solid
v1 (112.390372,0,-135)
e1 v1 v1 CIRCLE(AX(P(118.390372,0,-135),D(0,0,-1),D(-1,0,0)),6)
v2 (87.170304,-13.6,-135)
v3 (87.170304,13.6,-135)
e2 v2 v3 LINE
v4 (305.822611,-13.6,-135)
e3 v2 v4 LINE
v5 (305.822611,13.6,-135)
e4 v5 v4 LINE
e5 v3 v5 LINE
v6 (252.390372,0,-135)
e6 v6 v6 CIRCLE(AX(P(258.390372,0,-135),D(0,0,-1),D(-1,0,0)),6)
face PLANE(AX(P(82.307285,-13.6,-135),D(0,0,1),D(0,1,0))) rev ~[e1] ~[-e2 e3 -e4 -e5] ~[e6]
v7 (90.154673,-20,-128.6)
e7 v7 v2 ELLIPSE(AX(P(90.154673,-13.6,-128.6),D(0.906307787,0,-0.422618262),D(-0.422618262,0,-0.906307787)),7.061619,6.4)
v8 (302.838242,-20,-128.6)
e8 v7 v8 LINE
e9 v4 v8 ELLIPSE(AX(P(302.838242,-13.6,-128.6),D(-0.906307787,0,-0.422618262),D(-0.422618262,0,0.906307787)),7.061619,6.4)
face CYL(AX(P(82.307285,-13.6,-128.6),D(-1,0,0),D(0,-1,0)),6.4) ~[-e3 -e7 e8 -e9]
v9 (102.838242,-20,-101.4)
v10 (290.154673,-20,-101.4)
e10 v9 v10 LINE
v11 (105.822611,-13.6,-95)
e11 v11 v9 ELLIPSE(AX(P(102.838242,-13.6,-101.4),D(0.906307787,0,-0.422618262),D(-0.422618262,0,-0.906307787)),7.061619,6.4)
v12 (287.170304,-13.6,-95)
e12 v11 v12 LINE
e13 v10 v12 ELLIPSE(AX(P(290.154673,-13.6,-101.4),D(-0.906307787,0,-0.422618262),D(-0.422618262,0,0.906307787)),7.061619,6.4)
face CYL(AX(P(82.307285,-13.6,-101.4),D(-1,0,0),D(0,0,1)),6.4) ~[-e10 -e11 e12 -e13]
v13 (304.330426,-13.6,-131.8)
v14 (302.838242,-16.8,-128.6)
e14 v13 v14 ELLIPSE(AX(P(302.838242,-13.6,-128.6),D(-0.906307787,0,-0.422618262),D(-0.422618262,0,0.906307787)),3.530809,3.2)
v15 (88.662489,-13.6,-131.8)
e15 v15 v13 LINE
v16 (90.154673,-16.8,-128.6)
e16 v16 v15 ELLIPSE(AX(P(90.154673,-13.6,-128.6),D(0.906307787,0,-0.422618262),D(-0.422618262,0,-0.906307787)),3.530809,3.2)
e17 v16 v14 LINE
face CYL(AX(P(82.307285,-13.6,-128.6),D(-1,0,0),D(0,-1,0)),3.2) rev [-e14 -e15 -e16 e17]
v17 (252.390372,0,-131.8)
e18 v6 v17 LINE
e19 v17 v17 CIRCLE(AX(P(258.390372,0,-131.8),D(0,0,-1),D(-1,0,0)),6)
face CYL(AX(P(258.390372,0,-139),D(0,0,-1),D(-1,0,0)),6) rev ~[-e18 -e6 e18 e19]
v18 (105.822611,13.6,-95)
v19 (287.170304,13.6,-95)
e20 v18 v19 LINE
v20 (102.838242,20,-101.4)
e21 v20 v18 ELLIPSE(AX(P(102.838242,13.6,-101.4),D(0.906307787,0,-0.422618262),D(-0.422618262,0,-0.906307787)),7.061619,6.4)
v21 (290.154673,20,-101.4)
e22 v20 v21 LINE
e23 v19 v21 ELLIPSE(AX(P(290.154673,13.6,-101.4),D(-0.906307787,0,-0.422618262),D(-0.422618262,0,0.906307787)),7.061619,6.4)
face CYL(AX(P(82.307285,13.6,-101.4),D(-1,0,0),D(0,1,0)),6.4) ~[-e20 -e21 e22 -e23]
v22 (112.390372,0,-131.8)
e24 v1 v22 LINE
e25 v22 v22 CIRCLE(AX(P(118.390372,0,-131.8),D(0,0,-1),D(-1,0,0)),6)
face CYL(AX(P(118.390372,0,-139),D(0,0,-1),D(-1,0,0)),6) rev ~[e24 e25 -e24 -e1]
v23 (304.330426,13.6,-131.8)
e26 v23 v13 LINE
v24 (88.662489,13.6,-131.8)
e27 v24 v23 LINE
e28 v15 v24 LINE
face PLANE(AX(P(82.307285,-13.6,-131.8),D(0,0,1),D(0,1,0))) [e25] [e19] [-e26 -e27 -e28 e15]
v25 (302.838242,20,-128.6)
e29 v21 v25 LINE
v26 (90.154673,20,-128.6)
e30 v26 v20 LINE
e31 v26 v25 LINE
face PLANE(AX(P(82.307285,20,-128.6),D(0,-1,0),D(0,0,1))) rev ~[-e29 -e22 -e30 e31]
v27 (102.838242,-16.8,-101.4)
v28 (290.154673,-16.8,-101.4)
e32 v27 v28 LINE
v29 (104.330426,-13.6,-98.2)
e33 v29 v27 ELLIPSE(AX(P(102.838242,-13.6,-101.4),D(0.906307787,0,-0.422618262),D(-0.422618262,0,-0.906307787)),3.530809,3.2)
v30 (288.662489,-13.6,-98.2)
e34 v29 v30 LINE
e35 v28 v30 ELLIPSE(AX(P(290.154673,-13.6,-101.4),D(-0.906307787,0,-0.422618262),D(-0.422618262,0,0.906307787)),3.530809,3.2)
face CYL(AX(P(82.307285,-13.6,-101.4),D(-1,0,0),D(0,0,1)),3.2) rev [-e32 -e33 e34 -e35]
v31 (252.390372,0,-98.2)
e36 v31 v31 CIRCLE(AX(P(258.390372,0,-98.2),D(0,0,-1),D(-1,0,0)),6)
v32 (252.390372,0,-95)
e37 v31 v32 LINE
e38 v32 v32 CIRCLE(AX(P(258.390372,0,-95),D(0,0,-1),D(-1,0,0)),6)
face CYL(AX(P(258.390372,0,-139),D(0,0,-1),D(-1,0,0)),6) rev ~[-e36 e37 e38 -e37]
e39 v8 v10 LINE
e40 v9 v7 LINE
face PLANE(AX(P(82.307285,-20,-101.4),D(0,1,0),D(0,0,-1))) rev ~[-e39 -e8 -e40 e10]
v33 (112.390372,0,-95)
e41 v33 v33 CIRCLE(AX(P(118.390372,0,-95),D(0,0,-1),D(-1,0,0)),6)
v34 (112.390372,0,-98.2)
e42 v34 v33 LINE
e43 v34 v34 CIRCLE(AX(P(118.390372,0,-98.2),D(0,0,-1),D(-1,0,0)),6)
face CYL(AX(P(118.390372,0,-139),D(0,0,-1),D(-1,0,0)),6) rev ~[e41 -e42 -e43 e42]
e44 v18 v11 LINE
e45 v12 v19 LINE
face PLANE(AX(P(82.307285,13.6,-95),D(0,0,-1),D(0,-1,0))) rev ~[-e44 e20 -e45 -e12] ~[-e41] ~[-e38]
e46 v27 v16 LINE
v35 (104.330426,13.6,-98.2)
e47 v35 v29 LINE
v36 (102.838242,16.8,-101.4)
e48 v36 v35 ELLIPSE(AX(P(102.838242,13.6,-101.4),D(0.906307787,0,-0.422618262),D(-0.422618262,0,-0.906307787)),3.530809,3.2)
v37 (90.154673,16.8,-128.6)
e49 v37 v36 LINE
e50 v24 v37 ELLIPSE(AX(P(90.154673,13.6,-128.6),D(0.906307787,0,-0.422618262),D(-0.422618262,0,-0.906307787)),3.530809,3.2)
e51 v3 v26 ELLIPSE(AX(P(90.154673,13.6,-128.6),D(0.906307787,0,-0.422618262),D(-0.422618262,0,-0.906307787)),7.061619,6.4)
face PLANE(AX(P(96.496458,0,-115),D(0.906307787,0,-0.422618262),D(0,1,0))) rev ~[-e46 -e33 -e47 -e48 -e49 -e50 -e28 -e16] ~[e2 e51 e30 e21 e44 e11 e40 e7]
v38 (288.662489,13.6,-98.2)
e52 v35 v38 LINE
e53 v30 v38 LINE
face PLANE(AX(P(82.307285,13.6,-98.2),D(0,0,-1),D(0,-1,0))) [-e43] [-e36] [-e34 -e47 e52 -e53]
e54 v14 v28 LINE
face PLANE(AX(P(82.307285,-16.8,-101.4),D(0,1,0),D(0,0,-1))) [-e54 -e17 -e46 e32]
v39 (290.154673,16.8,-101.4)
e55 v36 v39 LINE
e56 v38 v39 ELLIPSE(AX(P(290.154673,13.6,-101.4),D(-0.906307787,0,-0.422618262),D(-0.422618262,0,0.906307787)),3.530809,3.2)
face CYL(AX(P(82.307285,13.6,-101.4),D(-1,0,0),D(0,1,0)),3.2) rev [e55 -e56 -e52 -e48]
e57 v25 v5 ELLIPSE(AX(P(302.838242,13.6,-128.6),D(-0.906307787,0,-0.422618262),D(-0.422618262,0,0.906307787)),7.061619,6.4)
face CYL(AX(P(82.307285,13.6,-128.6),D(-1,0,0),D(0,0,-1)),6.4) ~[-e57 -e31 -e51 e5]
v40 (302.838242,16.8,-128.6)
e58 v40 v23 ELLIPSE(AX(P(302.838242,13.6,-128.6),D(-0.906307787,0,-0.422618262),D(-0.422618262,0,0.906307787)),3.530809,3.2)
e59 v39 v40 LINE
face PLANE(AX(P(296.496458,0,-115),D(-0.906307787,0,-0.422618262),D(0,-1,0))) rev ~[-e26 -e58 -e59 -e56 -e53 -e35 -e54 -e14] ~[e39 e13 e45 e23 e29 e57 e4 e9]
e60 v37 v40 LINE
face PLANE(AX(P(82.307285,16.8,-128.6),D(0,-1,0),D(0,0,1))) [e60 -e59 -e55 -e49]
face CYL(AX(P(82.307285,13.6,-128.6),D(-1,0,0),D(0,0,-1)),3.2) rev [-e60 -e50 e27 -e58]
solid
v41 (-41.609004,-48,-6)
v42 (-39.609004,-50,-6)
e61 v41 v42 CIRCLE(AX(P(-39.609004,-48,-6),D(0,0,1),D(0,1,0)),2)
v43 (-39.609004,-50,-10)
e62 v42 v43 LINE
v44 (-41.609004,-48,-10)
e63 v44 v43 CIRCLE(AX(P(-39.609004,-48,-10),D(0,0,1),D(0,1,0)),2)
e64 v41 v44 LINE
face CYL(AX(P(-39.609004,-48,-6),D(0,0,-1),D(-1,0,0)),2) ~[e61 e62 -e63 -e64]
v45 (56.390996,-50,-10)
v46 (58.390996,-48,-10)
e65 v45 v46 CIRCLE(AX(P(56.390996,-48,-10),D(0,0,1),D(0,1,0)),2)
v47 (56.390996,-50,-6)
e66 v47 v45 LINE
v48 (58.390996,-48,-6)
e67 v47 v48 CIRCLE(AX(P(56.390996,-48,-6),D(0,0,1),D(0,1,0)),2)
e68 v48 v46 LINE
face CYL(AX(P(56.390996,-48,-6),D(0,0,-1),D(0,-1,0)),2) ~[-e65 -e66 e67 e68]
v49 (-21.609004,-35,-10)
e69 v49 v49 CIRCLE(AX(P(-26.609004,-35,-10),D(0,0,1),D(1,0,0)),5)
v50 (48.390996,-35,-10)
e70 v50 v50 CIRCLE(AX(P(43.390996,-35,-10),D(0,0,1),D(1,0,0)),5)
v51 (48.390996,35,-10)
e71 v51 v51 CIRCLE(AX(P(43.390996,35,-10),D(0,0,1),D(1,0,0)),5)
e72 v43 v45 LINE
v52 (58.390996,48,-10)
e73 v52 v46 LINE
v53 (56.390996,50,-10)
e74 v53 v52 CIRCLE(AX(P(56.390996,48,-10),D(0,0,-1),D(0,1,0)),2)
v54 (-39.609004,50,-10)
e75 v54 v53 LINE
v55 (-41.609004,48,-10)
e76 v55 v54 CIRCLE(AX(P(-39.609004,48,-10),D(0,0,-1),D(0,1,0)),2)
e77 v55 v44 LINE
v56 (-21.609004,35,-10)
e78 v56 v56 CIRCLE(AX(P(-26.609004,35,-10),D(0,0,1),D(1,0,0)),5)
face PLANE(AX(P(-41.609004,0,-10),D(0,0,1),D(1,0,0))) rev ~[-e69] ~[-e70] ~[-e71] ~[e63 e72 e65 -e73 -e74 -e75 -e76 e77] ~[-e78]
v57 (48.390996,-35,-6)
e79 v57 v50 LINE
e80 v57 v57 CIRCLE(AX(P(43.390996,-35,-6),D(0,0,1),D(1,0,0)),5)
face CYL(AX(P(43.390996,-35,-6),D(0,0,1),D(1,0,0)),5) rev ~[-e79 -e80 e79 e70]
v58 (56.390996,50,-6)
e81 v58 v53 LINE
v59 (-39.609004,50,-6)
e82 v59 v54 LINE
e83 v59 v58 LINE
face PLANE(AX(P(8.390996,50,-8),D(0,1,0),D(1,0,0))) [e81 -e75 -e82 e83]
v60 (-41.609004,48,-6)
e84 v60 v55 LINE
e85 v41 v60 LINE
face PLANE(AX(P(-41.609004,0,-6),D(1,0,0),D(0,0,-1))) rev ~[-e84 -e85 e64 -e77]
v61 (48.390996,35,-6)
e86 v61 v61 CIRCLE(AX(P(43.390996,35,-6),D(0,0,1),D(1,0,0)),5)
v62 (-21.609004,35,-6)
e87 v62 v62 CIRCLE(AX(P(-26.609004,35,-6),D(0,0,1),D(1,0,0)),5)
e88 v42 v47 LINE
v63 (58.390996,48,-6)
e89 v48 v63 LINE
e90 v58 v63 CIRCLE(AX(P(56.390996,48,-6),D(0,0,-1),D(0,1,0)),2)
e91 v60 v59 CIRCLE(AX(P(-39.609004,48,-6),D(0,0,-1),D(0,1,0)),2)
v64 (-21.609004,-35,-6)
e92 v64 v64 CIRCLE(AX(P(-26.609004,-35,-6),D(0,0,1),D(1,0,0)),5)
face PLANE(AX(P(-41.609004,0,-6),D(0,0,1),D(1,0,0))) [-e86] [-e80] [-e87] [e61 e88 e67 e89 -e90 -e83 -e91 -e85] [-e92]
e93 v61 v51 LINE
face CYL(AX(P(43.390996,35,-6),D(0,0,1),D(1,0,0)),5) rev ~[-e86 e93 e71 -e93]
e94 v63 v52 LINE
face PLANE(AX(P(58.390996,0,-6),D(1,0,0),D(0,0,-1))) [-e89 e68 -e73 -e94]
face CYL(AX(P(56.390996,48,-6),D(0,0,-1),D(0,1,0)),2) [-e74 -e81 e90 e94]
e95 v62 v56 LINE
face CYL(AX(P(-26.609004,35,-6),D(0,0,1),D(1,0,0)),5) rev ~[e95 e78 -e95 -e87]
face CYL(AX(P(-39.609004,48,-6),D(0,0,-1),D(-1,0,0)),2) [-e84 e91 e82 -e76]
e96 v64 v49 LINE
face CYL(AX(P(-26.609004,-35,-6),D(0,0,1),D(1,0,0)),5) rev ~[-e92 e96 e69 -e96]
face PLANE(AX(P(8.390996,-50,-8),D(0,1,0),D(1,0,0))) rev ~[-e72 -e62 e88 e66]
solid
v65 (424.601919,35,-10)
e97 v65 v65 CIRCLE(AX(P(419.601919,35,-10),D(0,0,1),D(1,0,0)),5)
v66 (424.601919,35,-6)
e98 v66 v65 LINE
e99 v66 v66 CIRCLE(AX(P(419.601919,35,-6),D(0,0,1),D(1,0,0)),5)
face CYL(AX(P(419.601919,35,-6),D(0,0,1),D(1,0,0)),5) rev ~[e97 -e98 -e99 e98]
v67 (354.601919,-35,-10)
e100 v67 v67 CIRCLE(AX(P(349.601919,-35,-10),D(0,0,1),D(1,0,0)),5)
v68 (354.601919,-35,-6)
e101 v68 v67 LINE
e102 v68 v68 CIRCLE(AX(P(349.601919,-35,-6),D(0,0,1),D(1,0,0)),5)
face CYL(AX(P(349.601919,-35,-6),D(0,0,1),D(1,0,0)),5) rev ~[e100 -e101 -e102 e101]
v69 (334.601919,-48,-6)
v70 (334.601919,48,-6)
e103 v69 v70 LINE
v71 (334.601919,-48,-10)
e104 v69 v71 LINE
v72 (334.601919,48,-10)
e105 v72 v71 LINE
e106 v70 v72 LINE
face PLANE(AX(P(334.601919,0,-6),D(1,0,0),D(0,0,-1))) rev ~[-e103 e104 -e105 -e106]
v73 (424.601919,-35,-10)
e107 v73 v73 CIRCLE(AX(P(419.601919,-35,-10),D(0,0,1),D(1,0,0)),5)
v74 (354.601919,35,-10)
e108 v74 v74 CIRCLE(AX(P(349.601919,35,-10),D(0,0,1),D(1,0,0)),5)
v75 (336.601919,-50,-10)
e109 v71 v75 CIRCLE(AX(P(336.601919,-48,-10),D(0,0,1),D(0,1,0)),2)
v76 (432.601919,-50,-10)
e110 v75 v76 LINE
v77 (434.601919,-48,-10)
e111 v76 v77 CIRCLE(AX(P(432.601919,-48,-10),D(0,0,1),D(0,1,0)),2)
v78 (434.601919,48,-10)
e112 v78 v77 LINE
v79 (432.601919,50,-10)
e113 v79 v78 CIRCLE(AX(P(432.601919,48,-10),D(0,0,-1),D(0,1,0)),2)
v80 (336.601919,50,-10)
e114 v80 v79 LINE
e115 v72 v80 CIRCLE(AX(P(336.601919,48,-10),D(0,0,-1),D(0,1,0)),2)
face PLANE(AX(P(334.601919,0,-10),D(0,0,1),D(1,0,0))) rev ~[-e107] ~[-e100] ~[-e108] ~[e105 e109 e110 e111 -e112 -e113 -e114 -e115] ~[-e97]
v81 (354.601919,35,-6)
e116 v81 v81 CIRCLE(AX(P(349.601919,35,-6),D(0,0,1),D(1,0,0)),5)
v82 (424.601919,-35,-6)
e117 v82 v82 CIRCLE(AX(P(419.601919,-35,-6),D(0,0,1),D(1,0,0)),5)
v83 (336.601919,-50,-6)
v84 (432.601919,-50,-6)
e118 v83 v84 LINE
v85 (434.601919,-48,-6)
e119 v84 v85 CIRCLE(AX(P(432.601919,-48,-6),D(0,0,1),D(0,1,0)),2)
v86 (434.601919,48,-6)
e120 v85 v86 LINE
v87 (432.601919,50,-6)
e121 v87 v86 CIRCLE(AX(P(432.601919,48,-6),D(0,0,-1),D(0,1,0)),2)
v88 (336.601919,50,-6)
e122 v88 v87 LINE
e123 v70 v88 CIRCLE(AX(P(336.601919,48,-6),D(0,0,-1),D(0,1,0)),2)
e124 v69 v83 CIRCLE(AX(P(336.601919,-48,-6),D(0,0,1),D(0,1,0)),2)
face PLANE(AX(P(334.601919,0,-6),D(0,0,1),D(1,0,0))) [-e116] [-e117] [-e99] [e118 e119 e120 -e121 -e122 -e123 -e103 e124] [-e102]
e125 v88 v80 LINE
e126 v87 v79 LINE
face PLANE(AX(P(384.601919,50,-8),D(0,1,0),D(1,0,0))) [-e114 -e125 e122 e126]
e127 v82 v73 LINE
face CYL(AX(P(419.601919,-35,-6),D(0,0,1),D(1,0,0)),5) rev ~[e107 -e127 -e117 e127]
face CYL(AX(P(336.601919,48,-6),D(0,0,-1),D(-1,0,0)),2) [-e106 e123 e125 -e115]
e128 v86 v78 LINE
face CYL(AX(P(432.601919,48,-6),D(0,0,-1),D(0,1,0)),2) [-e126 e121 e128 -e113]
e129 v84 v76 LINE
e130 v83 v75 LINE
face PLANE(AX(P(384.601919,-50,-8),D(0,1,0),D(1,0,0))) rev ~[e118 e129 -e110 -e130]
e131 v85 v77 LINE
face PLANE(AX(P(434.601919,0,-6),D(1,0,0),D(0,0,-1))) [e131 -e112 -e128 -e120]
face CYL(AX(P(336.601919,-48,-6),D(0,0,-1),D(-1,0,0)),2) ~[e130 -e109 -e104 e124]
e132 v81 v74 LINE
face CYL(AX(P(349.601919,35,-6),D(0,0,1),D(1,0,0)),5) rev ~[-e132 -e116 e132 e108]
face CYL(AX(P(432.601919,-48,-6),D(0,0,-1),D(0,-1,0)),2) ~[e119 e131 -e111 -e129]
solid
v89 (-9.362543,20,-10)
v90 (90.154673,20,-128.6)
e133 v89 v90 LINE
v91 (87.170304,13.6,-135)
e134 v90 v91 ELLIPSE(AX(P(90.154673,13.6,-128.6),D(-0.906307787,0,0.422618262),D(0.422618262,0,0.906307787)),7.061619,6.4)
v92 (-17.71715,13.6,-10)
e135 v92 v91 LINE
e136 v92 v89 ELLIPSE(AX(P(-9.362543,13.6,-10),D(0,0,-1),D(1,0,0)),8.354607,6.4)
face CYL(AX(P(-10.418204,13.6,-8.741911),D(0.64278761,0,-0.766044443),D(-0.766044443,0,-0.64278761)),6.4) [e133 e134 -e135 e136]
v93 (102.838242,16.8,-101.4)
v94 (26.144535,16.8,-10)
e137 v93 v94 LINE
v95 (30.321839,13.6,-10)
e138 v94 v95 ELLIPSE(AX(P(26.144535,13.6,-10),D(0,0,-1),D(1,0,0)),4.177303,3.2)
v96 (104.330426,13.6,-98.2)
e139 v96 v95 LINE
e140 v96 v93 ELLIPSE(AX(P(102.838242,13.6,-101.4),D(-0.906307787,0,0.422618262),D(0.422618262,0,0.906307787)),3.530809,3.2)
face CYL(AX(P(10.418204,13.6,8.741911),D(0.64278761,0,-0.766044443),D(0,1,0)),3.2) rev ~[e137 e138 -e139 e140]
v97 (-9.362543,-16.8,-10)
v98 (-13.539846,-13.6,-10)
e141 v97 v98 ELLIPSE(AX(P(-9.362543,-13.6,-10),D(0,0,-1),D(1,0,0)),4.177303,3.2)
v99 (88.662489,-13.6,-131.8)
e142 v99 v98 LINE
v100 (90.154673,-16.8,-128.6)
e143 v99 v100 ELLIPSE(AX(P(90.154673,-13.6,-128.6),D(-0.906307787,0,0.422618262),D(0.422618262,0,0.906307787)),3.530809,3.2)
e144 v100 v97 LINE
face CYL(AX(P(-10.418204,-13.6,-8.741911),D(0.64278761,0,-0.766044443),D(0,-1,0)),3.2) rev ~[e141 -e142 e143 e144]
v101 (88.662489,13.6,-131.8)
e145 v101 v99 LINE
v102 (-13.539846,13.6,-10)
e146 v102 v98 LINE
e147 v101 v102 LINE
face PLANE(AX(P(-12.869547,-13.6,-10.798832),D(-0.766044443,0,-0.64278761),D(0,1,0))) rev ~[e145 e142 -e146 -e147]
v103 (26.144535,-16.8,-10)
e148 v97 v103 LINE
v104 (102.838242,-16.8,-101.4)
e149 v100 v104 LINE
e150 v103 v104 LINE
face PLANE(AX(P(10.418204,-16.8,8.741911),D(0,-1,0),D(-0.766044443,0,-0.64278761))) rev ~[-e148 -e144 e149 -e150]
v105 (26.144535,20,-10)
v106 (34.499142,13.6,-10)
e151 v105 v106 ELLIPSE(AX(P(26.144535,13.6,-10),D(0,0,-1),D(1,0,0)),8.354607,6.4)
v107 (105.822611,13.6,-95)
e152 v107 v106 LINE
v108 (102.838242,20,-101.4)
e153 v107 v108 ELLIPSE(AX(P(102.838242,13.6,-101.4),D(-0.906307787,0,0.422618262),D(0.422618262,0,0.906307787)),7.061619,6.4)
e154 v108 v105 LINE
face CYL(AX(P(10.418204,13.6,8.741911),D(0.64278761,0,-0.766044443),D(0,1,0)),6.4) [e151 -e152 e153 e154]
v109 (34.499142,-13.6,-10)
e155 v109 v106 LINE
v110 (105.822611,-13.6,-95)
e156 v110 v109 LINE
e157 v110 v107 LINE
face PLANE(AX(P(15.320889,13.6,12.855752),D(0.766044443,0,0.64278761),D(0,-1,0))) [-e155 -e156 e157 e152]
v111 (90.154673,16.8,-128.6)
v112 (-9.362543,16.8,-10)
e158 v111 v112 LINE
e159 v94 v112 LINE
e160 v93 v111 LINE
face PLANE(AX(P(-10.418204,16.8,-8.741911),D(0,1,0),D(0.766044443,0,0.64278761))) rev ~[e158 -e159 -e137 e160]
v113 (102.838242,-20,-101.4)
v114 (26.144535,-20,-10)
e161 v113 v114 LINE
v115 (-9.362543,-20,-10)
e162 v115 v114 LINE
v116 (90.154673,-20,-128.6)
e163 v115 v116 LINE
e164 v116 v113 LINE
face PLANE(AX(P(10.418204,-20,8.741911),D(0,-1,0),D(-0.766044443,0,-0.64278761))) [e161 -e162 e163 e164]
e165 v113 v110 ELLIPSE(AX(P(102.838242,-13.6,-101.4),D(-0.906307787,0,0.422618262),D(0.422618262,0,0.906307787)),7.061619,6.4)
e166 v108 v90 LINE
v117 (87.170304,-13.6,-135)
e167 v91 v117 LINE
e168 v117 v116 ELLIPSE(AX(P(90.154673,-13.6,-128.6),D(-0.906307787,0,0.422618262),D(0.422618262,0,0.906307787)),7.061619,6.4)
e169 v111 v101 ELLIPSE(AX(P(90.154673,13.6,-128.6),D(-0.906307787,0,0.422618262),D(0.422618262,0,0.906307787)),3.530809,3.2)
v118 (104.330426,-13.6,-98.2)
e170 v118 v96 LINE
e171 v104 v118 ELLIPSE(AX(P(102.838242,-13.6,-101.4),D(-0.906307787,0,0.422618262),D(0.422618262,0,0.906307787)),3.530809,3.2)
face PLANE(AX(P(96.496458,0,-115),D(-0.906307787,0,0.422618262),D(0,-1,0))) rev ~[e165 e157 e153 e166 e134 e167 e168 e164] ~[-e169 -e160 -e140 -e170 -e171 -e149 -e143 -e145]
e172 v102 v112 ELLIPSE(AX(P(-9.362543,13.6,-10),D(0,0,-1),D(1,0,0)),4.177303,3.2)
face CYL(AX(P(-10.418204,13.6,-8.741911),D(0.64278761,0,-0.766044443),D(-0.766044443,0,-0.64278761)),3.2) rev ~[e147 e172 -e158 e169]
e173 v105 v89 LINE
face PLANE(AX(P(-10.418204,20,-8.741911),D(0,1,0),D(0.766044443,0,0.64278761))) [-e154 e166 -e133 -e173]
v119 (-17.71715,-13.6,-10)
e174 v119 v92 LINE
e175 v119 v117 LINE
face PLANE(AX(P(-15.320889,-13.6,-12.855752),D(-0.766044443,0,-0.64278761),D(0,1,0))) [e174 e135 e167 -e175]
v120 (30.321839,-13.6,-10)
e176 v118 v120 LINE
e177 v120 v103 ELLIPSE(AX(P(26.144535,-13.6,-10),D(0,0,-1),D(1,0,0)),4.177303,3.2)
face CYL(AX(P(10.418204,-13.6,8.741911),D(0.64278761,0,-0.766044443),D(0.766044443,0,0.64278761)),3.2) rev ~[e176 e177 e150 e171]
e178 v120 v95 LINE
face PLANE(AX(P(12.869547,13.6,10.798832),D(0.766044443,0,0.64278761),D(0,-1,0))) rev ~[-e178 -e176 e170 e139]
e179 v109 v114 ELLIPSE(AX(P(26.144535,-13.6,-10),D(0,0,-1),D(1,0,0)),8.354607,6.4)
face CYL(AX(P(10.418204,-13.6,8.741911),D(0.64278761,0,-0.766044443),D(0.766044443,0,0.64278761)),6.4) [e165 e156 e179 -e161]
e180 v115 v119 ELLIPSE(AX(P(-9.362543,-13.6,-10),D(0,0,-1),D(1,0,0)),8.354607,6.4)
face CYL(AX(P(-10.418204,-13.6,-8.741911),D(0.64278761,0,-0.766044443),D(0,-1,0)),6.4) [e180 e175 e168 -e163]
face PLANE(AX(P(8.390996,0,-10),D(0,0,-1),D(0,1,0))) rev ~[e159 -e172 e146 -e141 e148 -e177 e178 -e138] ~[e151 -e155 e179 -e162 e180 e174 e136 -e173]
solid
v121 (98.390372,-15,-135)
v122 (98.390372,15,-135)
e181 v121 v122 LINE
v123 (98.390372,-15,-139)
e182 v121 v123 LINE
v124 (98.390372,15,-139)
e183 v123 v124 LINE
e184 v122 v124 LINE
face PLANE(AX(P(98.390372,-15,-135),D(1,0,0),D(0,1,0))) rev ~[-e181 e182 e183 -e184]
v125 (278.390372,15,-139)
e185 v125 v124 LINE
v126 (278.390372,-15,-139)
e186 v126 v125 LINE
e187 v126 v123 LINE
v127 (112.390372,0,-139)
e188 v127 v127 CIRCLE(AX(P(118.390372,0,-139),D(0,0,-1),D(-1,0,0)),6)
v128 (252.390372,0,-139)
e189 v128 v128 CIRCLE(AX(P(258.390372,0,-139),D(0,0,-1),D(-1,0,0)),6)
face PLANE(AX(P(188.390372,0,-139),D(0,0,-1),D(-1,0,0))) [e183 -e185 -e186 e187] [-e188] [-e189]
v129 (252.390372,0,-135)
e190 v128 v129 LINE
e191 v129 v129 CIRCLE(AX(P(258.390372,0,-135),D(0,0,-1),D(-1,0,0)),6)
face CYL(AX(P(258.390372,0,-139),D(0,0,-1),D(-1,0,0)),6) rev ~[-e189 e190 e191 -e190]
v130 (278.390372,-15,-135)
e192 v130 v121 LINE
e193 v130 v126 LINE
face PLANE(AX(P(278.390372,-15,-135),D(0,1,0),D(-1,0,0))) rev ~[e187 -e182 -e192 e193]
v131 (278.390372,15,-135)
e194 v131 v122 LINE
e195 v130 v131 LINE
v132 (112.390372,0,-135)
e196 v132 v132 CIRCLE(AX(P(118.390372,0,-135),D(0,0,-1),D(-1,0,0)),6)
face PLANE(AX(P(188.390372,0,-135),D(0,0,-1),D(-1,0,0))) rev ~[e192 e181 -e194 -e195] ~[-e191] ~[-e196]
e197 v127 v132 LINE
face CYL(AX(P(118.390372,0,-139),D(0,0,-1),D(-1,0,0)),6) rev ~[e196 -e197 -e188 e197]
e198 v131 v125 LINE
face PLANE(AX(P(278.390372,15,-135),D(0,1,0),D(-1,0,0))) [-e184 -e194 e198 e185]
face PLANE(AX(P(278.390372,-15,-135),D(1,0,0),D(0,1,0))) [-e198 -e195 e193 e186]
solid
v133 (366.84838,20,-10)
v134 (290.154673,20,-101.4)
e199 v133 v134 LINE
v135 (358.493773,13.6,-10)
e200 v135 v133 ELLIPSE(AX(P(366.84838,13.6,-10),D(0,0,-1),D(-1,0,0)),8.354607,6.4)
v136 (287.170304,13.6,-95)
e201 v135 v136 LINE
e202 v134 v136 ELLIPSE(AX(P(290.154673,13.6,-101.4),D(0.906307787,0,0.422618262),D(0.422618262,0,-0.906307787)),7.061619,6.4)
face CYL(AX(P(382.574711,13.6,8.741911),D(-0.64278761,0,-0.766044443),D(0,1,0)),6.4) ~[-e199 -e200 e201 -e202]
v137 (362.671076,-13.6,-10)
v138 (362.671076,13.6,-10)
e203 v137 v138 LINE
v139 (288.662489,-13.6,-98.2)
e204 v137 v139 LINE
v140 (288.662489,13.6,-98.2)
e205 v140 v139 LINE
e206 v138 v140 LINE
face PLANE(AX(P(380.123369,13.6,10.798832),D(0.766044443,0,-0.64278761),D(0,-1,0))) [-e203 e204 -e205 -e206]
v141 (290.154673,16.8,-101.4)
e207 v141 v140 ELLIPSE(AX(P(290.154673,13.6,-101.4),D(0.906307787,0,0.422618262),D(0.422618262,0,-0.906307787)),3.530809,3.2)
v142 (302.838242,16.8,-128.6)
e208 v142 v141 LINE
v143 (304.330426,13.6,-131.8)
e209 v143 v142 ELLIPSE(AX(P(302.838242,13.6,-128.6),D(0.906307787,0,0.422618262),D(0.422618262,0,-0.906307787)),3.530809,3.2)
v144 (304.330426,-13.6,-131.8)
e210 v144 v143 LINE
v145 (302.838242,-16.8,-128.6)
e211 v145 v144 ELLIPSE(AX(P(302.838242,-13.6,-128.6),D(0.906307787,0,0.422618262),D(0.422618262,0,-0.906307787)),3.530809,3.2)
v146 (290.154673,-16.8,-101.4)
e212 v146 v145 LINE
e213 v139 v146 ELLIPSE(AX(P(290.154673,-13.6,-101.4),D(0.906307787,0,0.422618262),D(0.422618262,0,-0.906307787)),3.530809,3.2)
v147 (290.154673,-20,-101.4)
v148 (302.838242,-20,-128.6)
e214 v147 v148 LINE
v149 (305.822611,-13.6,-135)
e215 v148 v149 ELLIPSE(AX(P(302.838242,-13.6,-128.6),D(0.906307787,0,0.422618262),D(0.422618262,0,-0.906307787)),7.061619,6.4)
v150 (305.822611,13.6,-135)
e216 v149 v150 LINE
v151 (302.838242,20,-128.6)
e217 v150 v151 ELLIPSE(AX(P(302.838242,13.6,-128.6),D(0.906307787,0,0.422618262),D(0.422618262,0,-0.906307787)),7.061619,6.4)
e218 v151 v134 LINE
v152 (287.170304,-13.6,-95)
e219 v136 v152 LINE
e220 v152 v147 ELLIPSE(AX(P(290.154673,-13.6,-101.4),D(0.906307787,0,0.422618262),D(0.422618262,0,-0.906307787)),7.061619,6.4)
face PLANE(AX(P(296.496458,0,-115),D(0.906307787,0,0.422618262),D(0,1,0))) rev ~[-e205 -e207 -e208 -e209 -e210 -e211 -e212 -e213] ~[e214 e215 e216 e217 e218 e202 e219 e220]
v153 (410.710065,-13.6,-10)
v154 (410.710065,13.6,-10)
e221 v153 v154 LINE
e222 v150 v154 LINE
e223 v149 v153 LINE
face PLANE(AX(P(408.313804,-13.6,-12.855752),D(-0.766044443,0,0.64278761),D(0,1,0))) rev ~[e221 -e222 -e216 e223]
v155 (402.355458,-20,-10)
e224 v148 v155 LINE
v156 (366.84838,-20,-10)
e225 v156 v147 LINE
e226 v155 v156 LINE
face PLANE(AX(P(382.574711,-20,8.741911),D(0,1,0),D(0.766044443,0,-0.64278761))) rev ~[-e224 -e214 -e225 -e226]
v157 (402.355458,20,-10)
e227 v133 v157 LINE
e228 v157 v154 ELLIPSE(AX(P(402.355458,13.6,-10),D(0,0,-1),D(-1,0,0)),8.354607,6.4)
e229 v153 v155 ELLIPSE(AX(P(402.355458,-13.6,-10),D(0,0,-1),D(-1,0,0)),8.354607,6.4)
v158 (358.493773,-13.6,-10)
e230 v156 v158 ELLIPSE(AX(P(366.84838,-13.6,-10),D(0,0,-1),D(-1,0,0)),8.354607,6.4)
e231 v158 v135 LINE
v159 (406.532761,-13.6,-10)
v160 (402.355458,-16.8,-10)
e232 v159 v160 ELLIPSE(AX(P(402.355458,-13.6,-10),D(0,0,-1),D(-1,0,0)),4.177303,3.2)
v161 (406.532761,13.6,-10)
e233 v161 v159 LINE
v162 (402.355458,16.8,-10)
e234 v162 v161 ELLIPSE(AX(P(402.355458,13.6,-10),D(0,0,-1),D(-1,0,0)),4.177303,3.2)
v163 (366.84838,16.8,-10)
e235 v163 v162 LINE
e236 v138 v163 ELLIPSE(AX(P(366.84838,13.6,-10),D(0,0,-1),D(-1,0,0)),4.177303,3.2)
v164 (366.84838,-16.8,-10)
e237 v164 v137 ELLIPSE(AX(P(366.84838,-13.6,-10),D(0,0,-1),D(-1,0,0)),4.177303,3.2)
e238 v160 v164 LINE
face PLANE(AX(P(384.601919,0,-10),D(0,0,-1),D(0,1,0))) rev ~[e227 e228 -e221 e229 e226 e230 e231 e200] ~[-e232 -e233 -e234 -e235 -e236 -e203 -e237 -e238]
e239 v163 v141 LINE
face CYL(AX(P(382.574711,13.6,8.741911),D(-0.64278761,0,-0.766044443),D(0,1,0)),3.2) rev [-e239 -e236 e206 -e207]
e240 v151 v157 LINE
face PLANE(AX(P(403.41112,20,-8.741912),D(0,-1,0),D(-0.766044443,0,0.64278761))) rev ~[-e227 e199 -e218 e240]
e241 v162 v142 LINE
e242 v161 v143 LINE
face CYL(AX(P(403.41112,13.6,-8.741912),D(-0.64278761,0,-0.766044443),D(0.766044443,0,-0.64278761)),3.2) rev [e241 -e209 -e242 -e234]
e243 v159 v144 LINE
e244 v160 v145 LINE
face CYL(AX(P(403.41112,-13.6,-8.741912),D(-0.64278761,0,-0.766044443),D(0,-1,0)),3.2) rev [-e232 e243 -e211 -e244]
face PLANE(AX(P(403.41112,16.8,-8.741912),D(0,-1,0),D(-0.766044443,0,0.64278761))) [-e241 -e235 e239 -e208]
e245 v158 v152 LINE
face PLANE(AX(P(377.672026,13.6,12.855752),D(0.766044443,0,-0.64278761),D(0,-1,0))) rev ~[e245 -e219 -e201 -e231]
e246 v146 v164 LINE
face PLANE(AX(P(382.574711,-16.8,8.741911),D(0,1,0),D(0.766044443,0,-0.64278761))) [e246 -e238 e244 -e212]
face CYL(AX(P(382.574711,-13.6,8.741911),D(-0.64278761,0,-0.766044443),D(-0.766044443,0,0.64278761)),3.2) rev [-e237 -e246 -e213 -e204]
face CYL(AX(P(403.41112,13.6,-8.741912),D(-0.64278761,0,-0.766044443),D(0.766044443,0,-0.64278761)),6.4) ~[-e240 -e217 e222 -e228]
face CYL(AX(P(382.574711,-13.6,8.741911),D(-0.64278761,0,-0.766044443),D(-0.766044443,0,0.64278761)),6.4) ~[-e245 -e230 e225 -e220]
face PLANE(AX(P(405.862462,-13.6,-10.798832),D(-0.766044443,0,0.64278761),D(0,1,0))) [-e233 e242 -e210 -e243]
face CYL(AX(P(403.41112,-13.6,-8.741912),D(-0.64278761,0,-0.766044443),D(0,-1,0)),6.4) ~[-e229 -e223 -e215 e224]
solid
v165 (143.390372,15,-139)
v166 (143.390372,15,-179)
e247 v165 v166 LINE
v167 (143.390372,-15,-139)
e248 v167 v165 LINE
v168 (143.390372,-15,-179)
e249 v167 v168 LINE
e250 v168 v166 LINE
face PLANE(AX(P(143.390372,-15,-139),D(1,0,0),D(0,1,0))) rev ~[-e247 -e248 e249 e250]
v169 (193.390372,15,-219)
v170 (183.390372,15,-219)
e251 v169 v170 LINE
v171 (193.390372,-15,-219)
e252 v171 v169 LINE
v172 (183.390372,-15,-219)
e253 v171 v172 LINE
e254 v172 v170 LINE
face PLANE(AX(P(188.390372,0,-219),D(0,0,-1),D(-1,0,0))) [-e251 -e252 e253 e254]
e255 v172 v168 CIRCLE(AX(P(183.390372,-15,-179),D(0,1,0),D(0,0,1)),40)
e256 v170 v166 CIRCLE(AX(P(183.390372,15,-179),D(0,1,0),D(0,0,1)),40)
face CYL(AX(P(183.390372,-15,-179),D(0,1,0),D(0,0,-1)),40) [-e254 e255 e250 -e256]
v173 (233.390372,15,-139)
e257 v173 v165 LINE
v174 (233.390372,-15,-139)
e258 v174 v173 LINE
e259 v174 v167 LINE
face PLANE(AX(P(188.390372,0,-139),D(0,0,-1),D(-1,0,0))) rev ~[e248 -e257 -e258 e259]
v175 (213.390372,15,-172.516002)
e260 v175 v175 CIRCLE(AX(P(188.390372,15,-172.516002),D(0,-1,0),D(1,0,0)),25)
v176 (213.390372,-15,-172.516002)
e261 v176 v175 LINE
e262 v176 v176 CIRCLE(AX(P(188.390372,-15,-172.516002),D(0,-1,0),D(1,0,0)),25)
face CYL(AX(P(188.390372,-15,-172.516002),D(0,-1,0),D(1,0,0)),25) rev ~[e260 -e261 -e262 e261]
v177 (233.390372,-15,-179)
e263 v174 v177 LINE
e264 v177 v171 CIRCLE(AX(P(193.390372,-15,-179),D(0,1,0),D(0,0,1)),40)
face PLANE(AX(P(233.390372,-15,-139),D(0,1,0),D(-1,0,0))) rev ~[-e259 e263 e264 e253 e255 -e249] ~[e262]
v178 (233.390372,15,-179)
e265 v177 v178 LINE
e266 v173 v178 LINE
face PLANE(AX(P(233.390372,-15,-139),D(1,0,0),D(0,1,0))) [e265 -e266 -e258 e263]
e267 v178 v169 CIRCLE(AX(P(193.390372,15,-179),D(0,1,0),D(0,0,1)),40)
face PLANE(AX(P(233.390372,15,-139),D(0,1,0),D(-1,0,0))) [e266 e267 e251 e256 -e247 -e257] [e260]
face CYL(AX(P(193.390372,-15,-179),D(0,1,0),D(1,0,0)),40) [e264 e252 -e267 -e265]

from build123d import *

# Parameters (mm, degrees)
TUBE_SQUARE_40_X_40_X_3_2_1_DEPTH   = 164.311010561
TUBE_SQUARE_40_X_40_X_3_2_1_2_DEPTH = 228.378344576
TUBE_SQUARE_40_X_40_X_3_2_1_3_DEPTH = 164.311010561
SKETCH13_W                          = 100
SKETCH13_H                          = 4
BOSS_EXTRUDE1_DEPTH                 = 50
BOSS_EXTRUDE1_DEPTH_BACK            = 50
BOSS_EXTRUDE1_2_DEPTH               = 50
BOSS_EXTRUDE1_2_DEPTH_BACK          = 50
PART_START                          = -6e-09
PART_RUN_ON_DEPTH                   = 3.72792
BODY_START                          = 164.311010579
BODY_3_RUN_ON_DEPTH                 = 3.72792
SKETCH14_W                          = 180
SKETCH14_H                          = 30
BOSS_EXTRUDE2_DEPTH                 = 4
SKETCH15_W                          = 90
SKETCH15_H                          = 30
BOSS_EXTRUDE3_DEPTH                 = 80
FILLET1_R                           = 40
FILLET2_R                           = 40
SKETCH16_R                          = 25
CUT_EXTRUDE1_DEPTH                  = 30
SKETCH17_R                          = 6
CUT_EXTRUDE2_DEPTH                  = 458.239355126
SKETCH18_R                          = 5
CUT_EXTRUDE3_DEPTH                  = 4
FILLET3_R                           = 2
FILLET4_R                           = 2
FILLET5_R                           = 2


with BuildPart() as part:
    # Sketch11 → Tube (square) 40 X 40 X 3.2(1) (new body)
    with BuildSketch(Plane(origin=(0, 0, 0), x_dir=(-0.7660444431189797, 0, -0.6427876096865373), z_dir=(0.6427876096865374, 0, -0.7660444431189798))):
        with BuildLine():
            Line((-13.6, -20), (13.6, -20))
            ThreePointArc((13.6, -20), (18.1254834, -18.1254834), (20, -13.6))
            Line((20, -13.6), (20, 13.6))
            ThreePointArc((20, 13.6), (18.1254834, 18.1254834), (13.6, 20))
            Line((13.6, 20), (-13.6, 20))
            ThreePointArc((-13.6, 20), (-18.1254834, 18.1254834), (-20, 13.6))
            Line((-20, 13.6), (-20, -13.6))
            ThreePointArc((-20, -13.6), (-18.1254834, -18.1254834), (-13.6, -20))
        make_face()
        with BuildLine():
            Line((-13.6, -16.8), (13.6, -16.8))
            ThreePointArc((13.6, -16.8), (15.8627417, -15.8627417), (16.8, -13.6))
            Line((16.8, -13.6), (16.8, 13.6))
            ThreePointArc((16.8, 13.6), (15.8627417, 15.8627417), (13.6, 16.8))
            Line((13.6, 16.8), (-13.6, 16.8))
            ThreePointArc((-13.6, 16.8), (-15.8627417, 15.8627417), (-16.8, 13.6))
            Line((-16.8, 13.6), (-16.8, -13.6))
            ThreePointArc((-16.8, -13.6), (-15.8627417, -15.8627417), (-13.6, -16.8))
        make_face(mode=Mode.SUBTRACT)
    extrude(amount=TUBE_SQUARE_40_X_40_X_3_2_1_DEPTH)

    # Tube (square) 40 X 40 X 3.2(1) mitre 1
    split(bisect_by=Plane(origin=(96.496457585, 0, -115), x_dir=(0, -1, 0), z_dir=(-0.906307787, 0, 0.422618262)), keep=Keep.TOP)

    # Sketch11 → part run on (add)
    with BuildSketch(Plane(origin=(0, 0, 0), x_dir=(-0.7660444431189797, 0, -0.6427876096865373), z_dir=(0.6427876096865374, 0, -0.7660444431189798)).offset(PART_START)):
        with BuildLine():
            Line((-13.6, -20), (13.6, -20))
            ThreePointArc((13.6, -20), (18.1254834, -18.1254834), (20, -13.6))
            Line((20, -13.6), (20, 13.6))
            ThreePointArc((20, 13.6), (18.1254834, 18.1254834), (13.6, 20))
            Line((13.6, 20), (-13.6, 20))
            ThreePointArc((-13.6, 20), (-18.1254834, 18.1254834), (-20, 13.6))
            Line((-20, 13.6), (-20, -13.6))
            ThreePointArc((-20, -13.6), (-18.1254834, -18.1254834), (-13.6, -20))
        make_face()
        with BuildLine():
            Line((-13.6, -16.8), (13.6, -16.8))
            ThreePointArc((13.6, -16.8), (15.8627417, -15.8627417), (16.8, -13.6))
            Line((16.8, -13.6), (16.8, 13.6))
            ThreePointArc((16.8, 13.6), (15.8627417, 15.8627417), (13.6, 16.8))
            Line((13.6, 16.8), (-13.6, 16.8))
            ThreePointArc((-13.6, 16.8), (-15.8627417, 15.8627417), (-16.8, 13.6))
            Line((-16.8, 13.6), (-16.8, -13.6))
            ThreePointArc((-16.8, -13.6), (-15.8627417, -15.8627417), (-13.6, -16.8))
        make_face(mode=Mode.SUBTRACT)
    extrude(amount=-PART_RUN_ON_DEPTH)

    # Trim/Extend1
    split(bisect_by=Plane(origin=(8.390996312, 0, -10), x_dir=(0, 1, 0), z_dir=(0, 0, -1)), keep=Keep.TOP)


with BuildPart() as body_2:
    # Sketch11 on segment 2 (carried to segment 2) → Tube _square_ 40 X 40 X 3.2_1 2 (new body)
    with BuildSketch(Plane(origin=(82.307285297, 0, -115), x_dir=(0, 0, -1), z_dir=(1, 0, 0))):
        with BuildLine():
            Line((-13.6, -20), (13.6, -20))
            ThreePointArc((13.6, -20), (18.1254834, -18.1254834), (20, -13.6))
            Line((20, -13.6), (20, 13.6))
            ThreePointArc((20, 13.6), (18.1254834, 18.1254834), (13.6, 20))
            Line((13.6, 20), (-13.6, 20))
            ThreePointArc((-13.6, 20), (-18.1254834, 18.1254834), (-20, 13.6))
            Line((-20, 13.6), (-20, -13.6))
            ThreePointArc((-20, -13.6), (-18.1254834, -18.1254834), (-13.6, -20))
        make_face()
        with BuildLine():
            Line((-13.6, -16.8), (13.6, -16.8))
            ThreePointArc((13.6, -16.8), (15.8627417, -15.8627417), (16.8, -13.6))
            Line((16.8, -13.6), (16.8, 13.6))
            ThreePointArc((16.8, 13.6), (15.8627417, 15.8627417), (13.6, 16.8))
            Line((13.6, 16.8), (-13.6, 16.8))
            ThreePointArc((-13.6, 16.8), (-15.8627417, 15.8627417), (-16.8, 13.6))
            Line((-16.8, 13.6), (-16.8, -13.6))
            ThreePointArc((-16.8, -13.6), (-15.8627417, -15.8627417), (-13.6, -16.8))
        make_face(mode=Mode.SUBTRACT)
    extrude(amount=TUBE_SQUARE_40_X_40_X_3_2_1_2_DEPTH)

    # Tube _square_ 40 X 40 X 3.2_1 2 mitre 1
    split(bisect_by=Plane(origin=(96.496457585, 0, -115), x_dir=(0, 1, 0), z_dir=(0.906307787, 0, -0.422618262)), keep=Keep.TOP)

    # Tube _square_ 40 X 40 X 3.2_1 2 mitre 2
    split(bisect_by=Plane(origin=(296.496457585, 0, -115), x_dir=(0, -1, 0), z_dir=(-0.906307787, 0, -0.422618262)), keep=Keep.TOP)


with BuildPart() as body_3:
    # Sketch11 on segment 3 (carried to segment 3) → Tube _square_ 40 X 40 X 3.2_1 3 (new body)
    with BuildSketch(Plane(origin=(287.375833447, 0, -125.869536584), x_dir=(0.766044443, 0, -0.64278761), z_dir=(0.64278761, 0, 0.766044443))):
        with BuildLine():
            Line((-13.6, -20), (13.6, -20))
            ThreePointArc((13.6, -20), (18.1254834, -18.1254834), (20, -13.6))
            Line((20, -13.6), (20, 13.6))
            ThreePointArc((20, 13.6), (18.1254834, 18.1254834), (13.6, 20))
            Line((13.6, 20), (-13.6, 20))
            ThreePointArc((-13.6, 20), (-18.1254834, 18.1254834), (-20, 13.6))
            Line((-20, 13.6), (-20, -13.6))
            ThreePointArc((-20, -13.6), (-18.1254834, -18.1254834), (-13.6, -20))
        make_face()
        with BuildLine():
            Line((-13.6, -16.8), (13.6, -16.8))
            ThreePointArc((13.6, -16.8), (15.8627417, -15.8627417), (16.8, -13.6))
            Line((16.8, -13.6), (16.8, 13.6))
            ThreePointArc((16.8, 13.6), (15.8627417, 15.8627417), (13.6, 16.8))
            Line((13.6, 16.8), (-13.6, 16.8))
            ThreePointArc((-13.6, 16.8), (-15.8627417, 15.8627417), (-16.8, 13.6))
            Line((-16.8, 13.6), (-16.8, -13.6))
            ThreePointArc((-16.8, -13.6), (-15.8627417, -15.8627417), (-13.6, -16.8))
        make_face(mode=Mode.SUBTRACT)
    extrude(amount=TUBE_SQUARE_40_X_40_X_3_2_1_3_DEPTH)

    # Tube _square_ 40 X 40 X 3.2_1 3 mitre 1
    split(bisect_by=Plane(origin=(296.496457585, 0, -115), x_dir=(0, 1, 0), z_dir=(0.906307787, 0, 0.422618262)), keep=Keep.TOP)

    # Sketch11 on segment 3 (carried to segment 3) → body 3 run on (add)
    with BuildSketch(Plane(origin=(287.375833447, 0, -125.869536584), x_dir=(0.766044443, 0, -0.64278761), z_dir=(0.64278761, 0, 0.766044443)).offset(BODY_START)):
        with BuildLine():
            Line((-13.6, -20), (13.6, -20))
            ThreePointArc((13.6, -20), (18.1254834, -18.1254834), (20, -13.6))
            Line((20, -13.6), (20, 13.6))
            ThreePointArc((20, 13.6), (18.1254834, 18.1254834), (13.6, 20))
            Line((13.6, 20), (-13.6, 20))
            ThreePointArc((-13.6, 20), (-18.1254834, 18.1254834), (-20, 13.6))
            Line((-20, 13.6), (-20, -13.6))
            ThreePointArc((-20, -13.6), (-18.1254834, -18.1254834), (-13.6, -20))
        make_face()
        with BuildLine():
            Line((-13.6, -16.8), (13.6, -16.8))
            ThreePointArc((13.6, -16.8), (15.8627417, -15.8627417), (16.8, -13.6))
            Line((16.8, -13.6), (16.8, 13.6))
            ThreePointArc((16.8, 13.6), (15.8627417, 15.8627417), (13.6, 16.8))
            Line((13.6, 16.8), (-13.6, 16.8))
            ThreePointArc((-13.6, 16.8), (-15.8627417, 15.8627417), (-16.8, 13.6))
            Line((-16.8, 13.6), (-16.8, -13.6))
            ThreePointArc((-16.8, -13.6), (-15.8627417, -15.8627417), (-13.6, -16.8))
        make_face(mode=Mode.SUBTRACT)
    extrude(amount=BODY_3_RUN_ON_DEPTH)

    # Trim/Extend2
    split(bisect_by=Plane(origin=(384.601918859, 0, -10), x_dir=(0, 1, 0), z_dir=(0, 0, -1)), keep=Keep.TOP)


with BuildPart() as body_4:
    # Sketch13 → Boss-Extrude1 (new, two sides)
    with BuildSketch(Plane(origin=(0, 0, 0), x_dir=(1, 0, 0), z_dir=(0, 1, 0))) as boss_extrude1_sk:
        with Locations((8.390996312, 8)):
            Rectangle(SKETCH13_W, SKETCH13_H)
    extrude(amount=BOSS_EXTRUDE1_DEPTH)
    extrude(boss_extrude1_sk.sketch, amount=-BOSS_EXTRUDE1_DEPTH_BACK)


with BuildPart() as body_5:
    # Sketch13 → Boss-Extrude1 2 (new, two sides)
    with BuildSketch(Plane(origin=(0, 0, 0), x_dir=(1, 0, 0), z_dir=(0, 1, 0))) as boss_extrude1_2_sk:
        with Locations((384.601918859, 8)):
            Rectangle(SKETCH13_W, SKETCH13_H)
    extrude(amount=BOSS_EXTRUDE1_2_DEPTH)
    extrude(boss_extrude1_2_sk.sketch, amount=-BOSS_EXTRUDE1_2_DEPTH_BACK)


with BuildPart() as body_6:
    # Sketch14 → Boss-Extrude2 (new body)
    with BuildSketch(Plane(origin=(0, 0, -135), x_dir=(-1, 0, 0), z_dir=(0, 0, -1))):
        with Locations((-188.390372398, 0)):
            Rectangle(SKETCH14_W, SKETCH14_H)
    extrude(amount=BOSS_EXTRUDE2_DEPTH)


with BuildPart() as body_7:
    # Sketch15 → Boss-Extrude3 (new body)
    with BuildSketch(Plane(origin=(0, 0, -139), x_dir=(-1, 0, 0), z_dir=(0, 0, -1))):
        with Locations((-188.390372398, 0)):
            Rectangle(SKETCH15_W, SKETCH15_H)
    extrude(amount=BOSS_EXTRUDE3_DEPTH)

    # Fillet1
    fillet1_edges = [body_7.edges().sort_by_distance(p)[0] for p in [
        (233.390372398, 0, -219),
    ]]
    fillet(fillet1_edges, radius=FILLET1_R)

    # Fillet2
    fillet2_edges = [body_7.edges().sort_by_distance(p)[0] for p in [
        (143.390372398, 0, -219),
    ]]
    fillet(fillet2_edges, radius=FILLET2_R)

    # Sketch16 → Cut-Extrude1 (cut)
    with BuildSketch(Plane.XZ.offset(15)):
        with Locations((188.390372398, -172.516002279)):
            Circle(SKETCH16_R)
    extrude(amount=-CUT_EXTRUDE1_DEPTH, mode=Mode.SUBTRACT)


with BuildPart() as cut_extrude2_tool:
    # Sketch17 → Cut-Extrude2 (new, through all)
    with BuildSketch(Plane(origin=(0, 0, -139), x_dir=(-1, 0, 0), z_dir=(0, 0, -1))):
        with Locations((-258.390372398, 0)):
            Circle(SKETCH17_R)
        with Locations((-118.390372398, 0)):
            Circle(SKETCH17_R)
    extrude(amount=-CUT_EXTRUDE2_DEPTH)


with BuildPart() as body_2_1:
    add(body_2.part)

    # Cut-Extrude2: cut by cut_extrude2_tool
    add(cut_extrude2_tool.part, mode=Mode.SUBTRACT)


with BuildPart() as body_6_1:
    add(body_6.part)

    # Cut-Extrude2: cut by cut_extrude2_tool
    add(cut_extrude2_tool.part, mode=Mode.SUBTRACT)


with BuildPart() as cut_extrude3_tool:
    # Sketch18 → Cut-Extrude3 (new body)
    with BuildSketch(Plane.XY.offset(-6)):
        with Locations((349.601918859, -35)):
            Circle(SKETCH18_R)
        with Locations((419.601918859, -35)):
            Circle(SKETCH18_R)
        with Locations((419.601918859, 35)):
            Circle(SKETCH18_R)
        with Locations((349.601918859, 35)):
            Circle(SKETCH18_R)
        with Locations((43.390996312, 35)):
            Circle(SKETCH18_R)
        with Locations((43.390996312, -35)):
            Circle(SKETCH18_R)
        with Locations((-26.609003688, -35)):
            Circle(SKETCH18_R)
        with Locations((-26.609003688, 35)):
            Circle(SKETCH18_R)
    extrude(amount=-CUT_EXTRUDE3_DEPTH)


with BuildPart() as body_4_1:
    add(body_4.part)

    # Cut-Extrude3: cut by cut_extrude3_tool
    add(cut_extrude3_tool.part, mode=Mode.SUBTRACT)

    # Fillet4
    fillet4_edges = [body_4_1.edges().sort_by_distance(p)[0] for p in [
        (58.390996312, -50, -8),
        (58.390996312, 50, -8),
        (-41.609003688, -50, -8),
    ]]
    fillet(fillet4_edges, radius=FILLET4_R)

    # Fillet5
    fillet5_edges = [body_4_1.edges().sort_by_distance(p)[0] for p in [
        (-41.609003688, 50, -8),
    ]]
    fillet(fillet5_edges, radius=FILLET5_R)


with BuildPart() as body_5_1:
    add(body_5.part)

    # Cut-Extrude3: cut by cut_extrude3_tool
    add(cut_extrude3_tool.part, mode=Mode.SUBTRACT)

    # Fillet3
    fillet3_edges = [body_5_1.edges().sort_by_distance(p)[0] for p in [
        (334.601918859, 50, -8),
        (434.601918859, -50, -8),
        (434.601918859, 50, -8),
        (334.601918859, -50, -8),
    ]]
    fillet(fillet3_edges, radius=FILLET3_R)


solid = Compound([part.part, body_3.part, body_7.part, body_2_1.part, body_6_1.part, body_4_1.part, body_5_1.part])
